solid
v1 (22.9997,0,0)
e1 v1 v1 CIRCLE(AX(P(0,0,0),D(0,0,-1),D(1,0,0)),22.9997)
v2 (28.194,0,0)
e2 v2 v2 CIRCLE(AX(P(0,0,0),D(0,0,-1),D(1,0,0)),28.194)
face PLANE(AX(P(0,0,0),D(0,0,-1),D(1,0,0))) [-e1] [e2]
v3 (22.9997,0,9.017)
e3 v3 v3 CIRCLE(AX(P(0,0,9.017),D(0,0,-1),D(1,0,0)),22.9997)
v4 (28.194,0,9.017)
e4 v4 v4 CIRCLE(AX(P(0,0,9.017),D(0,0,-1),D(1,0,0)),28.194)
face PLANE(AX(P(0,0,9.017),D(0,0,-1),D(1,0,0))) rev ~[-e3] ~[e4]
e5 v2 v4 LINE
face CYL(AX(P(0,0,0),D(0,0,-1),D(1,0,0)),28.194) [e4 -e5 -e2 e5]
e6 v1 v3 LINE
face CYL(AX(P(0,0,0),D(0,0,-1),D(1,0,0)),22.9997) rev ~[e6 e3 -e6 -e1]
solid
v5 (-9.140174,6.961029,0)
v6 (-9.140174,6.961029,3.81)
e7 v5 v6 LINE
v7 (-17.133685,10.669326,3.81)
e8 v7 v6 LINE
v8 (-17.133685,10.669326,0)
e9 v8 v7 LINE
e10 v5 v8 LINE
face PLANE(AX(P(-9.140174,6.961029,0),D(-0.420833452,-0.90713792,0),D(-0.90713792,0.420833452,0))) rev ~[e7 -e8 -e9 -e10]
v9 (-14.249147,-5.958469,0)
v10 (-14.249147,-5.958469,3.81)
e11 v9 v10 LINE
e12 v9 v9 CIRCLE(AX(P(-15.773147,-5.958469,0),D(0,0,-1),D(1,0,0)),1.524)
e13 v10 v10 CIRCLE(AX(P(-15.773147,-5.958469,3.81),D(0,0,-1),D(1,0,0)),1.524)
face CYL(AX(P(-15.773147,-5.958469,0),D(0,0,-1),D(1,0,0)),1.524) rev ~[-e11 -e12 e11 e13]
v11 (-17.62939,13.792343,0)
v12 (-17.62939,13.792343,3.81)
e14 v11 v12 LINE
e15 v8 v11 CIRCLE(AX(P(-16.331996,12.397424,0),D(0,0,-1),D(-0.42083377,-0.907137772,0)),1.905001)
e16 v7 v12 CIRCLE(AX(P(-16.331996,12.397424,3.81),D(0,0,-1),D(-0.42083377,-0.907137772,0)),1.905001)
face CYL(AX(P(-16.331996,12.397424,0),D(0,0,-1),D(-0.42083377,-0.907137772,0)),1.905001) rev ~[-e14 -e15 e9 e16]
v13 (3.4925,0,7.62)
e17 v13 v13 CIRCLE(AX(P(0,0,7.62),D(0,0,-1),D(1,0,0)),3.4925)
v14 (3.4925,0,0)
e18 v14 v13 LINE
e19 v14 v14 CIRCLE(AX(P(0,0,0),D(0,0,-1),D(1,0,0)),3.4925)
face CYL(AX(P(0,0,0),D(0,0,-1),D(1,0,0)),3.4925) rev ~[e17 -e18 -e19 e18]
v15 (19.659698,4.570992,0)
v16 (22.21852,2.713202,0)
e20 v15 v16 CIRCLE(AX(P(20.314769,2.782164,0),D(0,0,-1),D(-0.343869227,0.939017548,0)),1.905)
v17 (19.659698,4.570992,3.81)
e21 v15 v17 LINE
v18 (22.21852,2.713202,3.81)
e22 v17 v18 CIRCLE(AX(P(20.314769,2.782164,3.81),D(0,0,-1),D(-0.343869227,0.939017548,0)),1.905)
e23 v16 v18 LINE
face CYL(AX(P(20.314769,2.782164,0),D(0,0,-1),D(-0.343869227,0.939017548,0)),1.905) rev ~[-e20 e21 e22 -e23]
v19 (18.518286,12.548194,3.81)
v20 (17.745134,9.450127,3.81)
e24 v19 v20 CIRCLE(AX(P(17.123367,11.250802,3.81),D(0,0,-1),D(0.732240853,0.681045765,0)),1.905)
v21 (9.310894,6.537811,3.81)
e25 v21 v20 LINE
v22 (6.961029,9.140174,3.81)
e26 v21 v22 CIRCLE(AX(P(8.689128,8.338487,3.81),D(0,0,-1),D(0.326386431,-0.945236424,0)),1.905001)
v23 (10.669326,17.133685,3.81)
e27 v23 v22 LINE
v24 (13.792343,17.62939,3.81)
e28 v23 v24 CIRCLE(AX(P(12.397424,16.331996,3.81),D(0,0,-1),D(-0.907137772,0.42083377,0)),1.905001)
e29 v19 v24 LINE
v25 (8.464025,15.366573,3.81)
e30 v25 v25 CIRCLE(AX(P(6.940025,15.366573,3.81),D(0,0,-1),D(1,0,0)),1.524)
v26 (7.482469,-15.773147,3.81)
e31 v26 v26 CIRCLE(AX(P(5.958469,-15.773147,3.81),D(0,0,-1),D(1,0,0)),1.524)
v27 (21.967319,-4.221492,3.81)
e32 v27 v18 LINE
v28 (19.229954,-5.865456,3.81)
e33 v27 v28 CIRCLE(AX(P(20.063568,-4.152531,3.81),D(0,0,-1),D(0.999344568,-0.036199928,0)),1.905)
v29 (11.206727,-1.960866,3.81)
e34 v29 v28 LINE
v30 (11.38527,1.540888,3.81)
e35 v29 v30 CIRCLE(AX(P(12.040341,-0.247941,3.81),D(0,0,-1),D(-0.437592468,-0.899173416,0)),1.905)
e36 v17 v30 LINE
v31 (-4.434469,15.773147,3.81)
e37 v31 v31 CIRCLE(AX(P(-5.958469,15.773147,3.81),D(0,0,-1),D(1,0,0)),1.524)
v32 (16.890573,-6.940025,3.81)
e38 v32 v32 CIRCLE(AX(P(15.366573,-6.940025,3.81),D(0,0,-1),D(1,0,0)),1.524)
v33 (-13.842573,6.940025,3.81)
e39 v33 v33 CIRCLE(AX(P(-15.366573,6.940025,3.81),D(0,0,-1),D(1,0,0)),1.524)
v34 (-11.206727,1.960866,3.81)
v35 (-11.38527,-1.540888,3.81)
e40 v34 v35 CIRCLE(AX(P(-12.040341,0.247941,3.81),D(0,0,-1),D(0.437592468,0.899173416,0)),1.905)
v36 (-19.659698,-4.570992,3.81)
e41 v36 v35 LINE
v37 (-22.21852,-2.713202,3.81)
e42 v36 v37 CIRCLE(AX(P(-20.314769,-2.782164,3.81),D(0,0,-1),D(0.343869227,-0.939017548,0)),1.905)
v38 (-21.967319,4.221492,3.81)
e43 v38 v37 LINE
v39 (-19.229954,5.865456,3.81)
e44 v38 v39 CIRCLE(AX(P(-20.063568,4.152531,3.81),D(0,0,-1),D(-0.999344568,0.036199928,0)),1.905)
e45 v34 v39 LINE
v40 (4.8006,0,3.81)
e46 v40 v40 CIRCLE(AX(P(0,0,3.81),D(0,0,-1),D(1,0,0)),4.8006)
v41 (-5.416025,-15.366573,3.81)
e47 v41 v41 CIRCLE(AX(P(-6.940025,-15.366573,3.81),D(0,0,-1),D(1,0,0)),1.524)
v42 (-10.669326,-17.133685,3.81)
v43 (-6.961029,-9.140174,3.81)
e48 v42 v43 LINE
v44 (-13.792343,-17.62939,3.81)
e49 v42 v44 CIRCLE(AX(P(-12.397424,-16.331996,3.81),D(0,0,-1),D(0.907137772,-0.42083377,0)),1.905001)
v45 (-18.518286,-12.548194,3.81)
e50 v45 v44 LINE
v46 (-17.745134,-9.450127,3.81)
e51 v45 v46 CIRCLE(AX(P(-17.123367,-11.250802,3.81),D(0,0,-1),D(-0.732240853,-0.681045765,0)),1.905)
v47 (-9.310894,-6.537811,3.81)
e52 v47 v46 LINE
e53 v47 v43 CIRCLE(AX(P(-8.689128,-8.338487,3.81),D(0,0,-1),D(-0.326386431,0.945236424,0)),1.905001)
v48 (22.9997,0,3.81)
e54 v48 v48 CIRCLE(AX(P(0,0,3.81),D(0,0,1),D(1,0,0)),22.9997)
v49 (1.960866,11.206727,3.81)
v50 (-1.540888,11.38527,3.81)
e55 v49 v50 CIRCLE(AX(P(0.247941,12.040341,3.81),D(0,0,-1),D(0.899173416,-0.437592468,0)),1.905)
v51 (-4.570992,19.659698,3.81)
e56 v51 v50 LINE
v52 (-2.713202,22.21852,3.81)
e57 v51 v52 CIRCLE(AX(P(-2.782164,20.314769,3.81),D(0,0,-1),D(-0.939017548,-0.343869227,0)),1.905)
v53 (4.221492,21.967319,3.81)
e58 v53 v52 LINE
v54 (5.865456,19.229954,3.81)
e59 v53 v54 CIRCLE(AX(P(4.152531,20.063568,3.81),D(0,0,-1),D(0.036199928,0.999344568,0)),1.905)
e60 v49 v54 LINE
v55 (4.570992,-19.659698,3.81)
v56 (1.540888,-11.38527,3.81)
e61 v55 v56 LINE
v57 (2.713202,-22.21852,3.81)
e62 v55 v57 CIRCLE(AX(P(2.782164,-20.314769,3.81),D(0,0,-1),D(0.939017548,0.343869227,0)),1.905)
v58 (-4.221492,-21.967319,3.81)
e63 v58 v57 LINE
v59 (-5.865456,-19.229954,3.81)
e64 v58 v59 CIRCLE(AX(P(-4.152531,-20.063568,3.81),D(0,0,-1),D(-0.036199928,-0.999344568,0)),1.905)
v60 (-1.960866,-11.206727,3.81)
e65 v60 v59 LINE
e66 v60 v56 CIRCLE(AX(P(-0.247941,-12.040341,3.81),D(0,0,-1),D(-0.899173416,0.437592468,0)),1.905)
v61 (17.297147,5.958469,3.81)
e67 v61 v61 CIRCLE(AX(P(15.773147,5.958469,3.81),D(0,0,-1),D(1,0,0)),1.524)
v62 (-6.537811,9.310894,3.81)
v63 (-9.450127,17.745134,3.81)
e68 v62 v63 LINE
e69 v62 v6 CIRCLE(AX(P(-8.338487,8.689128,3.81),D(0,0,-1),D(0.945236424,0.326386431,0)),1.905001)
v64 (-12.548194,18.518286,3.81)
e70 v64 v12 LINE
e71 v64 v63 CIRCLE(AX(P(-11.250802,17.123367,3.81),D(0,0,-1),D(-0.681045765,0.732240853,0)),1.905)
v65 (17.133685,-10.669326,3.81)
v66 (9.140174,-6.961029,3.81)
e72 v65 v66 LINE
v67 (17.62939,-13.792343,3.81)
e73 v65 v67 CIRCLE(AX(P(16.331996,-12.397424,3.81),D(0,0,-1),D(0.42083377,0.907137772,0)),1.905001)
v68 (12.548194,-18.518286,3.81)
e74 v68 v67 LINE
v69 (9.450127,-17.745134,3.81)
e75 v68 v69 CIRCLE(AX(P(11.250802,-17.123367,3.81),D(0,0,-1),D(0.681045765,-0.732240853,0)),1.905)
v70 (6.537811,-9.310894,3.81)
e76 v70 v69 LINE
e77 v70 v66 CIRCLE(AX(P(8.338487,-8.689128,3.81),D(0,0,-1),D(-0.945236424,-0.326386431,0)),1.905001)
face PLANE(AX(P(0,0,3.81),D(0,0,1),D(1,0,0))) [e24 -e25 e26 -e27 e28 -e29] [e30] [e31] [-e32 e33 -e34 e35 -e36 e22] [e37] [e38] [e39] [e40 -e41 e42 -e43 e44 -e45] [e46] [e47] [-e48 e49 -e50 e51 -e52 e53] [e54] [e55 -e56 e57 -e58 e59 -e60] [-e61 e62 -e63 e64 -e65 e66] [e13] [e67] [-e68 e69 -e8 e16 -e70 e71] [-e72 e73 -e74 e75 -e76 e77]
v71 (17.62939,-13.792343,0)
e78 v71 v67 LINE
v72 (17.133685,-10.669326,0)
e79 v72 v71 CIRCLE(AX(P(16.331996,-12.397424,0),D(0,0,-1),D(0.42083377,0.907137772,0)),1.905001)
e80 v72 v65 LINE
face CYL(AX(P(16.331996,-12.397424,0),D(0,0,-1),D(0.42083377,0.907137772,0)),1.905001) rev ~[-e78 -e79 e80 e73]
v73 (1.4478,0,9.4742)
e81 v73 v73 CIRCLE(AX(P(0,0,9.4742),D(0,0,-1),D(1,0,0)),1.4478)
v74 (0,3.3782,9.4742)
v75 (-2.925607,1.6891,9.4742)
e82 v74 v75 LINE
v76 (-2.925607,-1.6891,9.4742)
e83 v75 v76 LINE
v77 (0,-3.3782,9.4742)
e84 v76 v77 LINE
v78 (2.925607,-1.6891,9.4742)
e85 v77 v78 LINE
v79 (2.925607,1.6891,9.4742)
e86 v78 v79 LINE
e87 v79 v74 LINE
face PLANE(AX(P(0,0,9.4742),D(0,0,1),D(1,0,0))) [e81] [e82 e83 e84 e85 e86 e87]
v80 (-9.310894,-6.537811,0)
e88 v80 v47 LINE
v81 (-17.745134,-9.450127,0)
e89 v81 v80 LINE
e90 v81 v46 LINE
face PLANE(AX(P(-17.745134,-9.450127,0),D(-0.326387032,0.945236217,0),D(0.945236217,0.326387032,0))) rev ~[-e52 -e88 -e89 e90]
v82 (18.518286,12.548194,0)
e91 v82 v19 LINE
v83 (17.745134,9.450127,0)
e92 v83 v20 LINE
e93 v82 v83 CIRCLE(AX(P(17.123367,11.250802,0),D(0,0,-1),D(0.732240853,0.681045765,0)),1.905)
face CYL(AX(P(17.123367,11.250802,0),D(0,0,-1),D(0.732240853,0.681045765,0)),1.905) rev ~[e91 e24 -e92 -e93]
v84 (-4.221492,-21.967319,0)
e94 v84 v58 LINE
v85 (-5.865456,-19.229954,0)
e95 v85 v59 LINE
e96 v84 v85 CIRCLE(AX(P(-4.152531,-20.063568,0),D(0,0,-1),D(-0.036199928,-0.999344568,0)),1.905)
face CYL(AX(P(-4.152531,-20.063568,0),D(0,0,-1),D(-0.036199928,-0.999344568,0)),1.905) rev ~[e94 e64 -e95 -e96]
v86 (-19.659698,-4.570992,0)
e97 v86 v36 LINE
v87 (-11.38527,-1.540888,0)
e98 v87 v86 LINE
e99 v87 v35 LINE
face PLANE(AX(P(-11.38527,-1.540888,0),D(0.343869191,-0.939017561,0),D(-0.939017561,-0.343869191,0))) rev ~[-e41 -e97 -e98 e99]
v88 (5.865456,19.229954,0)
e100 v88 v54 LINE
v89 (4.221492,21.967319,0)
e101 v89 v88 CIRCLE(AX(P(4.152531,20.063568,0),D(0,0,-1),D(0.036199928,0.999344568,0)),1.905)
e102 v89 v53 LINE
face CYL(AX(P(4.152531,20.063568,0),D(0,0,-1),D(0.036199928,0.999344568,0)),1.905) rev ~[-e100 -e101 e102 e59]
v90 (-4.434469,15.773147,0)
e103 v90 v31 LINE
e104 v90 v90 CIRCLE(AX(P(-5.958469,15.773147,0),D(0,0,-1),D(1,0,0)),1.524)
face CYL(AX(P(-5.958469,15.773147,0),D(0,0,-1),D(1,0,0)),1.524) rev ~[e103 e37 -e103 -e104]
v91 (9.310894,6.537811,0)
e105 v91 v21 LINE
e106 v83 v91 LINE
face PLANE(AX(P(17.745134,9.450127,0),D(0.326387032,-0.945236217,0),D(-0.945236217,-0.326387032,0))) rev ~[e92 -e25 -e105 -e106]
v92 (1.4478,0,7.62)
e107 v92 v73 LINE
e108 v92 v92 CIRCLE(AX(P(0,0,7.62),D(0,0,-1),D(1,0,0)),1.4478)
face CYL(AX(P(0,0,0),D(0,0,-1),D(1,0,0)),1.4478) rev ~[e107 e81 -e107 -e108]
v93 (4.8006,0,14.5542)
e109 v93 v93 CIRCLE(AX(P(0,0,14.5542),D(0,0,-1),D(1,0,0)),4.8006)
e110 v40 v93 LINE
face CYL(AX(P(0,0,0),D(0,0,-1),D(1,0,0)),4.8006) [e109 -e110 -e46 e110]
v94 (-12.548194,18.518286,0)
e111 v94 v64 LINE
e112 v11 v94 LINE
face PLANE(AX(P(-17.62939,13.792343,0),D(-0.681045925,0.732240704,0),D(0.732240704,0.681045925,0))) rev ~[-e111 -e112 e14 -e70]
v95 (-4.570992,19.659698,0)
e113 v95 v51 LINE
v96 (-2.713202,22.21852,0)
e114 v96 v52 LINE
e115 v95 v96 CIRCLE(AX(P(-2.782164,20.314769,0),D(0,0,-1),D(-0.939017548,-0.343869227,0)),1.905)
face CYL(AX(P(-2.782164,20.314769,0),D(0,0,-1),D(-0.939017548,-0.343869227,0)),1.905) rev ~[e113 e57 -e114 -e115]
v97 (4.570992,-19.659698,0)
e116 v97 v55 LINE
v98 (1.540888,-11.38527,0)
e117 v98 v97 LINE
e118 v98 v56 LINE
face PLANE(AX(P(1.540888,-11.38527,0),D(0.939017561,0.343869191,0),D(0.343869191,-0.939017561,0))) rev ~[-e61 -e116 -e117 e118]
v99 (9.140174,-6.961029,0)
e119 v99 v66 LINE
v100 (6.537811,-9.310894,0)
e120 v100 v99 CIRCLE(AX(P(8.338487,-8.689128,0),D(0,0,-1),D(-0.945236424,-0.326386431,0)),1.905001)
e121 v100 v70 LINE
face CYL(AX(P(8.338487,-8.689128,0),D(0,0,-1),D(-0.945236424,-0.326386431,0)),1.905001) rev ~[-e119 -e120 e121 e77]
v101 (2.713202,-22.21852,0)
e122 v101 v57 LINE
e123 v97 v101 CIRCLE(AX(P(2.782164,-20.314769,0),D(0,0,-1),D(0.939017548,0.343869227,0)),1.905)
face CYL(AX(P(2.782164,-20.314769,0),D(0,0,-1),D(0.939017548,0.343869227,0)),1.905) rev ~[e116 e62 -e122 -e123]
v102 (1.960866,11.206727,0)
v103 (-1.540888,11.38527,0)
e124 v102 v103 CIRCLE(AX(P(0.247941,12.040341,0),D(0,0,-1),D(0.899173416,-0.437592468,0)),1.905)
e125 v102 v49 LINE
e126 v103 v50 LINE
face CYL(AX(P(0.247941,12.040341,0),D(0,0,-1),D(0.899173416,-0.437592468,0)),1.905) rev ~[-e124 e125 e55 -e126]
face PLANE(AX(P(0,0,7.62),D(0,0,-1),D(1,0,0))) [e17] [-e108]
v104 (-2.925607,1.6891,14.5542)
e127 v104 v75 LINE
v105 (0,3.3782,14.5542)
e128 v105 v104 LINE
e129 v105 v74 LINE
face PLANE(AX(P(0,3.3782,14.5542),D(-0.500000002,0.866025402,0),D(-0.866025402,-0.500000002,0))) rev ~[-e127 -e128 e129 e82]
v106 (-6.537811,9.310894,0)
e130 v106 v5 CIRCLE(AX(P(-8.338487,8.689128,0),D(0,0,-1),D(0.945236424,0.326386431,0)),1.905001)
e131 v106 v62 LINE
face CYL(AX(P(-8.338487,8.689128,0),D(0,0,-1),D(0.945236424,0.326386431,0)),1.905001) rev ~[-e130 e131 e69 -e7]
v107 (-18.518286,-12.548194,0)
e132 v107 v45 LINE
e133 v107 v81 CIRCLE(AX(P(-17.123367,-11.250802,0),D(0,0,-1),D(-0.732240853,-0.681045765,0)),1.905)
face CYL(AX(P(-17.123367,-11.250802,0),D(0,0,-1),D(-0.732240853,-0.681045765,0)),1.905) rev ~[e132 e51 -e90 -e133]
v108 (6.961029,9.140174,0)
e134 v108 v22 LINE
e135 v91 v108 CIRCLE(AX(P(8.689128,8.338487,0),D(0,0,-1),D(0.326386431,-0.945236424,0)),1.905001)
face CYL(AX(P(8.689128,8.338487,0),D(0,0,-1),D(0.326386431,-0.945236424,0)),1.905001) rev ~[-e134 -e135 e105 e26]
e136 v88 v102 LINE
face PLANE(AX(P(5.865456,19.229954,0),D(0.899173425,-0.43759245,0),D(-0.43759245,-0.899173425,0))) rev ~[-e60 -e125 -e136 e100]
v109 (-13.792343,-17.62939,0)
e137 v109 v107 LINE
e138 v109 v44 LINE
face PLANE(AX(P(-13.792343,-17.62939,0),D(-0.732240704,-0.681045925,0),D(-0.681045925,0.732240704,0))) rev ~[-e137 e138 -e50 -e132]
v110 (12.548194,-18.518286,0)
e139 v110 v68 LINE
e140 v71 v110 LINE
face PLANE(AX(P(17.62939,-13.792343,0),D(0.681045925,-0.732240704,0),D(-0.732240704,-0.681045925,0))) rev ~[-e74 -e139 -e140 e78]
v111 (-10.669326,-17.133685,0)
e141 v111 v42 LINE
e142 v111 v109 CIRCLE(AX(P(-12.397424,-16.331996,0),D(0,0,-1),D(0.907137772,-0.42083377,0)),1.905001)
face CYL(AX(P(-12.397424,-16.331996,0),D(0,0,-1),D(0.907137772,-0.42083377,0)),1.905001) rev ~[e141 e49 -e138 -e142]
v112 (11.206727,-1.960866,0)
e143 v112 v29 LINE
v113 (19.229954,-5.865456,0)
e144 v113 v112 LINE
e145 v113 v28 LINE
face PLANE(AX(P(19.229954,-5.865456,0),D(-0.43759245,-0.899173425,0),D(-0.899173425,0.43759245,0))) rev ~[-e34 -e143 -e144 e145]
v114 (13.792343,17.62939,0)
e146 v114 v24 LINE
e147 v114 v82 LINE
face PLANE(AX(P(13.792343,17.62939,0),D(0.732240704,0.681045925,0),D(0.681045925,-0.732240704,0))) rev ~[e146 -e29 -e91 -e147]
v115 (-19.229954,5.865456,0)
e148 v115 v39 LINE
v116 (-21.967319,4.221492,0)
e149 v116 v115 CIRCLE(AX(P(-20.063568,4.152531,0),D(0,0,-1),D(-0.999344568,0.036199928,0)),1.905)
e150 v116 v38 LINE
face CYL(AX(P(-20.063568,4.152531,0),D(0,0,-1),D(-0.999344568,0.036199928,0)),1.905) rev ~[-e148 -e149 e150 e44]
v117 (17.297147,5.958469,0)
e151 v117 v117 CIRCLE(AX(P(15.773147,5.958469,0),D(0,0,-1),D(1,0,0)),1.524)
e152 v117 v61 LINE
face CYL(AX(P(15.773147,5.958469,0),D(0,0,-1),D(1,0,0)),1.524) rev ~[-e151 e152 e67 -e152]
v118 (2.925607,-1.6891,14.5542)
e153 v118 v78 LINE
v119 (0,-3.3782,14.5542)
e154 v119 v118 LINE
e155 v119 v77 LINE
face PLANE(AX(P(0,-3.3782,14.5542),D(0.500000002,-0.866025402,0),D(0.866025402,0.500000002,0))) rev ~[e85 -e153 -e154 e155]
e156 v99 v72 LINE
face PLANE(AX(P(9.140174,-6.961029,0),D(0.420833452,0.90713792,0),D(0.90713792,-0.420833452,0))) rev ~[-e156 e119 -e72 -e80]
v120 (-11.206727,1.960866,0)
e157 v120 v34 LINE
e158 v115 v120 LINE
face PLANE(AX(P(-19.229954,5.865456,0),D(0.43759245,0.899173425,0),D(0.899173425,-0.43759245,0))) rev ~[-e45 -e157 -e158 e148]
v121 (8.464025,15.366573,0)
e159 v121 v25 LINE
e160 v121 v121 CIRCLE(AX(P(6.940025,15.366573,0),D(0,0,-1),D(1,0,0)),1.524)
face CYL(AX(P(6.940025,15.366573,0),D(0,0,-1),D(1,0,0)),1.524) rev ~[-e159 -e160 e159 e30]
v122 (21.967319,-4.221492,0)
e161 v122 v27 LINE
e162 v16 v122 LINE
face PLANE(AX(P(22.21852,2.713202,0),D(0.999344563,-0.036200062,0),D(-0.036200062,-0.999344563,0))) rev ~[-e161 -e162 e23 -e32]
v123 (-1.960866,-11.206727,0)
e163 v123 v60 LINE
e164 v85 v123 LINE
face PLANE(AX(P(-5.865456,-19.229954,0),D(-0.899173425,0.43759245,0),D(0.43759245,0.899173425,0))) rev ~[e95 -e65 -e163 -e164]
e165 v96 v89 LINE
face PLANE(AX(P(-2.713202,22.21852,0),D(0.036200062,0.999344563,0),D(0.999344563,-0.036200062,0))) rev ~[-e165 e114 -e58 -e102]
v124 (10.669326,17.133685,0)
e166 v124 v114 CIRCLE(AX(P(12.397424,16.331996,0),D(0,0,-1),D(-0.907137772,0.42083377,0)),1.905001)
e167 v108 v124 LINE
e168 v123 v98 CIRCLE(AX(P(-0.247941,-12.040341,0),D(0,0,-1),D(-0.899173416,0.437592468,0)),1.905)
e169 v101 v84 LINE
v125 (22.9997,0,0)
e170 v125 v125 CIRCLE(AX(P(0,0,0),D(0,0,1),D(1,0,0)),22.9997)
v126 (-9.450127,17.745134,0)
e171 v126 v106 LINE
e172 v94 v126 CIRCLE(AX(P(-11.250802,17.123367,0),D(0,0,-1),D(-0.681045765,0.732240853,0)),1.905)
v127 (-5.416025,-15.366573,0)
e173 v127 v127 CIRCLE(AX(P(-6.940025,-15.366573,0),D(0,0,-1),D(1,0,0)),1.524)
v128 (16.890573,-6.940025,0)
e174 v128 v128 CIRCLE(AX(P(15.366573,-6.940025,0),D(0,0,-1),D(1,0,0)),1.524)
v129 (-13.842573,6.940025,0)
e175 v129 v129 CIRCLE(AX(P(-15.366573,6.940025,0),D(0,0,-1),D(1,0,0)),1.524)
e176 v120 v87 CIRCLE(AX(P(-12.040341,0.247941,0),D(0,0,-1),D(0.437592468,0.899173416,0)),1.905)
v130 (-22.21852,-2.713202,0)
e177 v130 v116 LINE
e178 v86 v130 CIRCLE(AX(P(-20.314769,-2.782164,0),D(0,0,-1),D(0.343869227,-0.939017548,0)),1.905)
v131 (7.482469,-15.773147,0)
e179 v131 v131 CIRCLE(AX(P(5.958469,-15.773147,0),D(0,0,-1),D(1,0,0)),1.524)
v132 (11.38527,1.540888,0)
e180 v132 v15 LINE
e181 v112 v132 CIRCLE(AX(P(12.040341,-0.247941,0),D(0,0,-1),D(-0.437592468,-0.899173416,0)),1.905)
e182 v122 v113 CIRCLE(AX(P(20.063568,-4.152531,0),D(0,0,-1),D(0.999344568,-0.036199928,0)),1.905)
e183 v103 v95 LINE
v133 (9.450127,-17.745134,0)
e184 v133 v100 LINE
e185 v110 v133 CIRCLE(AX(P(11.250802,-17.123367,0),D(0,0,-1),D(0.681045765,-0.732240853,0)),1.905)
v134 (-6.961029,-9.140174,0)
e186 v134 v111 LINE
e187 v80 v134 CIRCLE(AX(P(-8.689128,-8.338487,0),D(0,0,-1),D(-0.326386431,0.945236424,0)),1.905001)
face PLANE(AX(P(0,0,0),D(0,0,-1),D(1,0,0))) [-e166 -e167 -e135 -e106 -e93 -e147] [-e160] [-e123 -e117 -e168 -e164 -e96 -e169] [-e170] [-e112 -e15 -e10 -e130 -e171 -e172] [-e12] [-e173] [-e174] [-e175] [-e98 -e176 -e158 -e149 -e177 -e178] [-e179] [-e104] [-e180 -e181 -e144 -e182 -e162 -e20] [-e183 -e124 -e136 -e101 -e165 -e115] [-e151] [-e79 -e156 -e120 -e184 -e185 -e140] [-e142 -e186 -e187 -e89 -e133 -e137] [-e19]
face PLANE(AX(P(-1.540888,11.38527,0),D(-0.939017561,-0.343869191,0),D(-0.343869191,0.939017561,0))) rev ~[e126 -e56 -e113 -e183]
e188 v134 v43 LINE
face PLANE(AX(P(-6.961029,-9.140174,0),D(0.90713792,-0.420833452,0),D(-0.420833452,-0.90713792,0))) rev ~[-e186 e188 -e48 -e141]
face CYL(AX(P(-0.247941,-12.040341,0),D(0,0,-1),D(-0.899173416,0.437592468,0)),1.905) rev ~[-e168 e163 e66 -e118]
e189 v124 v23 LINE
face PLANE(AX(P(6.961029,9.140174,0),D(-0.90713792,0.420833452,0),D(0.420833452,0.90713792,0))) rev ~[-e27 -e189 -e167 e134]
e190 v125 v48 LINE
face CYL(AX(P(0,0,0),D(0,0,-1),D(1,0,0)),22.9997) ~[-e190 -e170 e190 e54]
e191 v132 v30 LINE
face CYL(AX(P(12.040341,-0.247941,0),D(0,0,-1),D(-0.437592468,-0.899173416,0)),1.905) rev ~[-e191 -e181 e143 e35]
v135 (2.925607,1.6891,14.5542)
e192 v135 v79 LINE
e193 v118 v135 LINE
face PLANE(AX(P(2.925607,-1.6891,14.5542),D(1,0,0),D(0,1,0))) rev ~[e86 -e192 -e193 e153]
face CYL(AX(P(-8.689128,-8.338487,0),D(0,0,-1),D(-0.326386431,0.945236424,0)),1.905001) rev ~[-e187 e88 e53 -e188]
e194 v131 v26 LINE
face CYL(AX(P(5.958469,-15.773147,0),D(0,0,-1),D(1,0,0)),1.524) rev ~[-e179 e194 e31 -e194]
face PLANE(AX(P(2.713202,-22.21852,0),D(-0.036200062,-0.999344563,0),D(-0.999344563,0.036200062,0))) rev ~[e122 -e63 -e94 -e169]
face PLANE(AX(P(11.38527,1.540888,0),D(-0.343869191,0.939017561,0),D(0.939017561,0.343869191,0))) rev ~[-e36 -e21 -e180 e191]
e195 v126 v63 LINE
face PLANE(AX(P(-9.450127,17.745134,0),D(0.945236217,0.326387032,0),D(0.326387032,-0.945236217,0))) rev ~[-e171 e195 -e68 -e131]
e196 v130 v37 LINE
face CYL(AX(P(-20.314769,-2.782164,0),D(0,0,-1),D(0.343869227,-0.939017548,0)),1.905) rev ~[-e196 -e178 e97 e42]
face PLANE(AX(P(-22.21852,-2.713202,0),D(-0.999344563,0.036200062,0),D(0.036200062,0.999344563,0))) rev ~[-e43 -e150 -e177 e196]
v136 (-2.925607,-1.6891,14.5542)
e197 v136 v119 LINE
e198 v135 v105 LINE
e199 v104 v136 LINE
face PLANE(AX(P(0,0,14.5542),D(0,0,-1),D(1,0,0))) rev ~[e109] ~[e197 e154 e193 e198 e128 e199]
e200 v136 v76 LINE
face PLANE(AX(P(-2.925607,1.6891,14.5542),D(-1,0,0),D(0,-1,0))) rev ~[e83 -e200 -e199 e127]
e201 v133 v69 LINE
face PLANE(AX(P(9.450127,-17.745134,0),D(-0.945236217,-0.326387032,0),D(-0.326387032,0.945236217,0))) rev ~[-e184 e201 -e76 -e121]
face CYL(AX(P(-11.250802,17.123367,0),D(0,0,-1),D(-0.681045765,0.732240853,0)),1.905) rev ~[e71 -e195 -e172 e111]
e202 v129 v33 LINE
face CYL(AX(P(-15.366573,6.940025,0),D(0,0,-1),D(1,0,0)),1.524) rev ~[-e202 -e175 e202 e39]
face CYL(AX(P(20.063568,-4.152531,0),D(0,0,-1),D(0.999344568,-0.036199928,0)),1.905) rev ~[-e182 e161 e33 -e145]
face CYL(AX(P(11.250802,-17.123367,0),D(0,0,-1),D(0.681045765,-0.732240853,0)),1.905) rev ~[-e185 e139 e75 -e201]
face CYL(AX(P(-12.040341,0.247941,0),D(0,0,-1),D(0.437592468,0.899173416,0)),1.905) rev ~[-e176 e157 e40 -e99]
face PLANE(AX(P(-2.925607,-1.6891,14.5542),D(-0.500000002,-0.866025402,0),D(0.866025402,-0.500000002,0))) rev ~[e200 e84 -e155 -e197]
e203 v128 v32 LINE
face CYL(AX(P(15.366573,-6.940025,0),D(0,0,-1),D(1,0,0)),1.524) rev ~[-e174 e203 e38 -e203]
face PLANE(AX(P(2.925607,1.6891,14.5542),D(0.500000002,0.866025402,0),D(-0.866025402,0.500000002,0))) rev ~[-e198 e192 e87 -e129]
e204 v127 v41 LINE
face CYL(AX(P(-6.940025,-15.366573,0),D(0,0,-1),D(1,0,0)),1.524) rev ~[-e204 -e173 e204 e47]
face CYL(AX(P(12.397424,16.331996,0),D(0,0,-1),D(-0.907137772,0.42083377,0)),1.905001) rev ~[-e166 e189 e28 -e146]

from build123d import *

# Parameters (mm, degrees)
F0_R      = 22.9997
F1_DEPTH  = 3.81
F3_R      = 4.8006
F4_DEPTH  = 14.5542
F5_R      = 3.4925
F6_DEPTH  = 7.62
F8_DEPTH  = 5.08
F9_R      = 1.4478
F10_DEPTH = 25.4
F11_R     = 1.524
F12_DEPTH = 12.7
F14_DEPTH = 12.7
F13_R     = 28.194
F13_R_2   = 22.9997
F15_DEPTH = 9.017


with BuildPart() as f1:
    # F0 (on Top) → F1 (new body)
    with BuildSketch(Plane.XY):
        Circle(F0_R)
    extrude(amount=F1_DEPTH)

    # F3 (on face) → F4 (join)
    with BuildSketch(Plane(origin=(0, 0, 0), x_dir=(1, 0, 0), z_dir=(0, 0, -1))):
        Circle(F3_R)
    extrude(amount=-F4_DEPTH)

    # F5 (on face) → F6 (cut)
    with BuildSketch(Plane(origin=(0, 0, 0), x_dir=(1, 0, 0), z_dir=(0, 0, -1))):
        Circle(F5_R)
    extrude(amount=-F6_DEPTH, mode=Mode.SUBTRACT)

    # F7 (on face) → F8 (cut)
    with BuildSketch(Plane.XY.offset(14.5542)):
        Polygon((2.925607, -1.6891), (2.925607, 1.6891), (0, 3.3782), (-2.925607, 1.6891), (-2.925607, -1.6891), (0, -3.3782), align=None)
    extrude(amount=-F8_DEPTH, mode=Mode.SUBTRACT)

    # F9 (on face) → F10 (cut)
    with BuildSketch(Plane(origin=(0, 0, 0), x_dir=(1, 0, 0), z_dir=(0, 0, -1))):
        Circle(F9_R)
    extrude(amount=-F10_DEPTH, mode=Mode.SUBTRACT)

    # F11 (on face) → F12 (cut)
    with BuildSketch(Plane(origin=(0, 0, 0), x_dir=(1, 0, 0), z_dir=(0, 0, -1))):
        with Locations((5.958469, 15.773147)):
            Circle(F11_R)
        with Locations((-6.940025, 15.366573)):
            Circle(F11_R)
        with Locations((-15.773147, 5.958469)):
            Circle(F11_R)
        with Locations((-15.366573, -6.940025)):
            Circle(F11_R)
        with Locations((-5.958469, -15.773147)):
            Circle(F11_R)
        with Locations((6.940025, -15.366573)):
            Circle(F11_R)
        with Locations((15.773147, -5.958469)):
            Circle(F11_R)
        with Locations((15.366573, 6.940025)):
            Circle(F11_R)
    extrude(amount=-F12_DEPTH, mode=Mode.SUBTRACT)

    # F2 (on face) → F14 (cut)
    with BuildSketch(Plane(origin=(0, 0, 0), x_dir=(1, 0, 0), z_dir=(0, 0, -1))):
        with BuildLine():
            Line((-2.713202, -22.21852), (4.221492, -21.967319))
            ThreePointArc((4.221492, -21.967319), (5.785648, -21.04436), (5.865456, -19.229954))
            Line((5.865456, -19.229954), (1.960866, -11.206727))
            ThreePointArc((1.960866, -11.206727), (0.150936, -10.137812), (-1.540888, -11.38527))
            Line((-1.540888, -11.38527), (-4.570992, -19.659698))
            ThreePointArc((-4.570992, -19.659698), (-4.323714, -21.433986), (-2.713202, -22.21852))
        make_face()
        with BuildLine():
            Line((6.961029, -9.140174), (10.669326, -17.133685))
            ThreePointArc((10.669326, -17.133685), (12.098789, -18.213444), (13.792343, -17.62939))
            Line((13.792343, -17.62939), (18.518286, -12.548194))
            ThreePointArc((18.518286, -12.548194), (18.97168, -10.789538), (17.745134, -9.450127))
            Line((17.745134, -9.450127), (9.310894, -6.537811))
            ThreePointArc((9.310894, -6.537811), (7.275244, -7.061788), (6.961029, -9.140174))
        make_face()
        with BuildLine():
            Line((11.38527, -1.540888), (19.659698, -4.570992))
            ThreePointArc((19.659698, -4.570992), (21.433986, -4.323714), (22.21852, -2.713202))
            Line((22.21852, -2.713202), (21.967319, 4.221492))
            ThreePointArc((21.967319, 4.221492), (21.04436, 5.785648), (19.229954, 5.865456))
            Line((19.229954, 5.865456), (11.206727, 1.960866))
            ThreePointArc((11.206727, 1.960866), (10.137812, 0.150936), (11.38527, -1.540888))
        make_face()
        with BuildLine():
            Line((9.140174, 6.961029), (17.133685, 10.669326))
            ThreePointArc((17.133685, 10.669326), (18.213444, 12.098789), (17.62939, 13.792343))
            Line((17.62939, 13.792343), (12.548194, 18.518286))
            ThreePointArc((12.548194, 18.518286), (10.789538, 18.97168), (9.450127, 17.745134))
            Line((9.450127, 17.745134), (6.537811, 9.310894))
            ThreePointArc((6.537811, 9.310894), (7.061788, 7.275244), (9.140174, 6.961029))
        make_face()
        with BuildLine():
            Line((1.540888, 11.38527), (4.570992, 19.659698))
            ThreePointArc((4.570992, 19.659698), (4.323714, 21.433986), (2.713202, 22.21852))
            Line((2.713202, 22.21852), (-4.221492, 21.967319))
            ThreePointArc((-4.221492, 21.967319), (-5.785648, 21.04436), (-5.865456, 19.229954))
            Line((-5.865456, 19.229954), (-1.960866, 11.206727))
            ThreePointArc((-1.960866, 11.206727), (-0.150936, 10.137812), (1.540888, 11.38527))
        make_face()
        with BuildLine():
            Line((-6.961029, 9.140174), (-10.669326, 17.133685))
            ThreePointArc((-10.669326, 17.133685), (-12.098789, 18.213444), (-13.792343, 17.62939))
            Line((-13.792343, 17.62939), (-18.518286, 12.548194))
            ThreePointArc((-18.518286, 12.548194), (-18.97168, 10.789538), (-17.745134, 9.450127))
            Line((-17.745134, 9.450127), (-9.310894, 6.537811))
            ThreePointArc((-9.310894, 6.537811), (-7.275244, 7.061788), (-6.961029, 9.140174))
        make_face()
        with BuildLine():
            Line((-11.38527, 1.540888), (-19.659698, 4.570992))
            ThreePointArc((-19.659698, 4.570992), (-21.433986, 4.323714), (-22.21852, 2.713202))
            Line((-22.21852, 2.713202), (-21.967319, -4.221492))
            ThreePointArc((-21.967319, -4.221492), (-21.04436, -5.785648), (-19.229954, -5.865456))
            Line((-19.229954, -5.865456), (-11.206727, -1.960866))
            ThreePointArc((-11.206727, -1.960866), (-10.137812, -0.150936), (-11.38527, 1.540888))
        make_face()
        with BuildLine():
            Line((-9.140174, -6.961029), (-17.133685, -10.669326))
            ThreePointArc((-17.133685, -10.669326), (-18.213444, -12.098789), (-17.62939, -13.792343))
            Line((-17.62939, -13.792343), (-12.548194, -18.518286))
            ThreePointArc((-12.548194, -18.518286), (-10.789538, -18.97168), (-9.450127, -17.745134))
            Line((-9.450127, -17.745134), (-6.537811, -9.310894))
            ThreePointArc((-6.537811, -9.310894), (-7.061788, -7.275244), (-9.140174, -6.961029))
        make_face()
    extrude(amount=-F14_DEPTH, mode=Mode.SUBTRACT)


with BuildPart() as f15:
    # F13 (on face) → F15 (new body)
    with BuildSketch(Plane(origin=(0, 0, 0), x_dir=(1, 0, 0), z_dir=(0, 0, -1))):
        Circle(F13_R)
        Circle(F13_R_2, mode=Mode.SUBTRACT)
    extrude(amount=-F15_DEPTH)


solid = Compound([f1.part, f15.part])
